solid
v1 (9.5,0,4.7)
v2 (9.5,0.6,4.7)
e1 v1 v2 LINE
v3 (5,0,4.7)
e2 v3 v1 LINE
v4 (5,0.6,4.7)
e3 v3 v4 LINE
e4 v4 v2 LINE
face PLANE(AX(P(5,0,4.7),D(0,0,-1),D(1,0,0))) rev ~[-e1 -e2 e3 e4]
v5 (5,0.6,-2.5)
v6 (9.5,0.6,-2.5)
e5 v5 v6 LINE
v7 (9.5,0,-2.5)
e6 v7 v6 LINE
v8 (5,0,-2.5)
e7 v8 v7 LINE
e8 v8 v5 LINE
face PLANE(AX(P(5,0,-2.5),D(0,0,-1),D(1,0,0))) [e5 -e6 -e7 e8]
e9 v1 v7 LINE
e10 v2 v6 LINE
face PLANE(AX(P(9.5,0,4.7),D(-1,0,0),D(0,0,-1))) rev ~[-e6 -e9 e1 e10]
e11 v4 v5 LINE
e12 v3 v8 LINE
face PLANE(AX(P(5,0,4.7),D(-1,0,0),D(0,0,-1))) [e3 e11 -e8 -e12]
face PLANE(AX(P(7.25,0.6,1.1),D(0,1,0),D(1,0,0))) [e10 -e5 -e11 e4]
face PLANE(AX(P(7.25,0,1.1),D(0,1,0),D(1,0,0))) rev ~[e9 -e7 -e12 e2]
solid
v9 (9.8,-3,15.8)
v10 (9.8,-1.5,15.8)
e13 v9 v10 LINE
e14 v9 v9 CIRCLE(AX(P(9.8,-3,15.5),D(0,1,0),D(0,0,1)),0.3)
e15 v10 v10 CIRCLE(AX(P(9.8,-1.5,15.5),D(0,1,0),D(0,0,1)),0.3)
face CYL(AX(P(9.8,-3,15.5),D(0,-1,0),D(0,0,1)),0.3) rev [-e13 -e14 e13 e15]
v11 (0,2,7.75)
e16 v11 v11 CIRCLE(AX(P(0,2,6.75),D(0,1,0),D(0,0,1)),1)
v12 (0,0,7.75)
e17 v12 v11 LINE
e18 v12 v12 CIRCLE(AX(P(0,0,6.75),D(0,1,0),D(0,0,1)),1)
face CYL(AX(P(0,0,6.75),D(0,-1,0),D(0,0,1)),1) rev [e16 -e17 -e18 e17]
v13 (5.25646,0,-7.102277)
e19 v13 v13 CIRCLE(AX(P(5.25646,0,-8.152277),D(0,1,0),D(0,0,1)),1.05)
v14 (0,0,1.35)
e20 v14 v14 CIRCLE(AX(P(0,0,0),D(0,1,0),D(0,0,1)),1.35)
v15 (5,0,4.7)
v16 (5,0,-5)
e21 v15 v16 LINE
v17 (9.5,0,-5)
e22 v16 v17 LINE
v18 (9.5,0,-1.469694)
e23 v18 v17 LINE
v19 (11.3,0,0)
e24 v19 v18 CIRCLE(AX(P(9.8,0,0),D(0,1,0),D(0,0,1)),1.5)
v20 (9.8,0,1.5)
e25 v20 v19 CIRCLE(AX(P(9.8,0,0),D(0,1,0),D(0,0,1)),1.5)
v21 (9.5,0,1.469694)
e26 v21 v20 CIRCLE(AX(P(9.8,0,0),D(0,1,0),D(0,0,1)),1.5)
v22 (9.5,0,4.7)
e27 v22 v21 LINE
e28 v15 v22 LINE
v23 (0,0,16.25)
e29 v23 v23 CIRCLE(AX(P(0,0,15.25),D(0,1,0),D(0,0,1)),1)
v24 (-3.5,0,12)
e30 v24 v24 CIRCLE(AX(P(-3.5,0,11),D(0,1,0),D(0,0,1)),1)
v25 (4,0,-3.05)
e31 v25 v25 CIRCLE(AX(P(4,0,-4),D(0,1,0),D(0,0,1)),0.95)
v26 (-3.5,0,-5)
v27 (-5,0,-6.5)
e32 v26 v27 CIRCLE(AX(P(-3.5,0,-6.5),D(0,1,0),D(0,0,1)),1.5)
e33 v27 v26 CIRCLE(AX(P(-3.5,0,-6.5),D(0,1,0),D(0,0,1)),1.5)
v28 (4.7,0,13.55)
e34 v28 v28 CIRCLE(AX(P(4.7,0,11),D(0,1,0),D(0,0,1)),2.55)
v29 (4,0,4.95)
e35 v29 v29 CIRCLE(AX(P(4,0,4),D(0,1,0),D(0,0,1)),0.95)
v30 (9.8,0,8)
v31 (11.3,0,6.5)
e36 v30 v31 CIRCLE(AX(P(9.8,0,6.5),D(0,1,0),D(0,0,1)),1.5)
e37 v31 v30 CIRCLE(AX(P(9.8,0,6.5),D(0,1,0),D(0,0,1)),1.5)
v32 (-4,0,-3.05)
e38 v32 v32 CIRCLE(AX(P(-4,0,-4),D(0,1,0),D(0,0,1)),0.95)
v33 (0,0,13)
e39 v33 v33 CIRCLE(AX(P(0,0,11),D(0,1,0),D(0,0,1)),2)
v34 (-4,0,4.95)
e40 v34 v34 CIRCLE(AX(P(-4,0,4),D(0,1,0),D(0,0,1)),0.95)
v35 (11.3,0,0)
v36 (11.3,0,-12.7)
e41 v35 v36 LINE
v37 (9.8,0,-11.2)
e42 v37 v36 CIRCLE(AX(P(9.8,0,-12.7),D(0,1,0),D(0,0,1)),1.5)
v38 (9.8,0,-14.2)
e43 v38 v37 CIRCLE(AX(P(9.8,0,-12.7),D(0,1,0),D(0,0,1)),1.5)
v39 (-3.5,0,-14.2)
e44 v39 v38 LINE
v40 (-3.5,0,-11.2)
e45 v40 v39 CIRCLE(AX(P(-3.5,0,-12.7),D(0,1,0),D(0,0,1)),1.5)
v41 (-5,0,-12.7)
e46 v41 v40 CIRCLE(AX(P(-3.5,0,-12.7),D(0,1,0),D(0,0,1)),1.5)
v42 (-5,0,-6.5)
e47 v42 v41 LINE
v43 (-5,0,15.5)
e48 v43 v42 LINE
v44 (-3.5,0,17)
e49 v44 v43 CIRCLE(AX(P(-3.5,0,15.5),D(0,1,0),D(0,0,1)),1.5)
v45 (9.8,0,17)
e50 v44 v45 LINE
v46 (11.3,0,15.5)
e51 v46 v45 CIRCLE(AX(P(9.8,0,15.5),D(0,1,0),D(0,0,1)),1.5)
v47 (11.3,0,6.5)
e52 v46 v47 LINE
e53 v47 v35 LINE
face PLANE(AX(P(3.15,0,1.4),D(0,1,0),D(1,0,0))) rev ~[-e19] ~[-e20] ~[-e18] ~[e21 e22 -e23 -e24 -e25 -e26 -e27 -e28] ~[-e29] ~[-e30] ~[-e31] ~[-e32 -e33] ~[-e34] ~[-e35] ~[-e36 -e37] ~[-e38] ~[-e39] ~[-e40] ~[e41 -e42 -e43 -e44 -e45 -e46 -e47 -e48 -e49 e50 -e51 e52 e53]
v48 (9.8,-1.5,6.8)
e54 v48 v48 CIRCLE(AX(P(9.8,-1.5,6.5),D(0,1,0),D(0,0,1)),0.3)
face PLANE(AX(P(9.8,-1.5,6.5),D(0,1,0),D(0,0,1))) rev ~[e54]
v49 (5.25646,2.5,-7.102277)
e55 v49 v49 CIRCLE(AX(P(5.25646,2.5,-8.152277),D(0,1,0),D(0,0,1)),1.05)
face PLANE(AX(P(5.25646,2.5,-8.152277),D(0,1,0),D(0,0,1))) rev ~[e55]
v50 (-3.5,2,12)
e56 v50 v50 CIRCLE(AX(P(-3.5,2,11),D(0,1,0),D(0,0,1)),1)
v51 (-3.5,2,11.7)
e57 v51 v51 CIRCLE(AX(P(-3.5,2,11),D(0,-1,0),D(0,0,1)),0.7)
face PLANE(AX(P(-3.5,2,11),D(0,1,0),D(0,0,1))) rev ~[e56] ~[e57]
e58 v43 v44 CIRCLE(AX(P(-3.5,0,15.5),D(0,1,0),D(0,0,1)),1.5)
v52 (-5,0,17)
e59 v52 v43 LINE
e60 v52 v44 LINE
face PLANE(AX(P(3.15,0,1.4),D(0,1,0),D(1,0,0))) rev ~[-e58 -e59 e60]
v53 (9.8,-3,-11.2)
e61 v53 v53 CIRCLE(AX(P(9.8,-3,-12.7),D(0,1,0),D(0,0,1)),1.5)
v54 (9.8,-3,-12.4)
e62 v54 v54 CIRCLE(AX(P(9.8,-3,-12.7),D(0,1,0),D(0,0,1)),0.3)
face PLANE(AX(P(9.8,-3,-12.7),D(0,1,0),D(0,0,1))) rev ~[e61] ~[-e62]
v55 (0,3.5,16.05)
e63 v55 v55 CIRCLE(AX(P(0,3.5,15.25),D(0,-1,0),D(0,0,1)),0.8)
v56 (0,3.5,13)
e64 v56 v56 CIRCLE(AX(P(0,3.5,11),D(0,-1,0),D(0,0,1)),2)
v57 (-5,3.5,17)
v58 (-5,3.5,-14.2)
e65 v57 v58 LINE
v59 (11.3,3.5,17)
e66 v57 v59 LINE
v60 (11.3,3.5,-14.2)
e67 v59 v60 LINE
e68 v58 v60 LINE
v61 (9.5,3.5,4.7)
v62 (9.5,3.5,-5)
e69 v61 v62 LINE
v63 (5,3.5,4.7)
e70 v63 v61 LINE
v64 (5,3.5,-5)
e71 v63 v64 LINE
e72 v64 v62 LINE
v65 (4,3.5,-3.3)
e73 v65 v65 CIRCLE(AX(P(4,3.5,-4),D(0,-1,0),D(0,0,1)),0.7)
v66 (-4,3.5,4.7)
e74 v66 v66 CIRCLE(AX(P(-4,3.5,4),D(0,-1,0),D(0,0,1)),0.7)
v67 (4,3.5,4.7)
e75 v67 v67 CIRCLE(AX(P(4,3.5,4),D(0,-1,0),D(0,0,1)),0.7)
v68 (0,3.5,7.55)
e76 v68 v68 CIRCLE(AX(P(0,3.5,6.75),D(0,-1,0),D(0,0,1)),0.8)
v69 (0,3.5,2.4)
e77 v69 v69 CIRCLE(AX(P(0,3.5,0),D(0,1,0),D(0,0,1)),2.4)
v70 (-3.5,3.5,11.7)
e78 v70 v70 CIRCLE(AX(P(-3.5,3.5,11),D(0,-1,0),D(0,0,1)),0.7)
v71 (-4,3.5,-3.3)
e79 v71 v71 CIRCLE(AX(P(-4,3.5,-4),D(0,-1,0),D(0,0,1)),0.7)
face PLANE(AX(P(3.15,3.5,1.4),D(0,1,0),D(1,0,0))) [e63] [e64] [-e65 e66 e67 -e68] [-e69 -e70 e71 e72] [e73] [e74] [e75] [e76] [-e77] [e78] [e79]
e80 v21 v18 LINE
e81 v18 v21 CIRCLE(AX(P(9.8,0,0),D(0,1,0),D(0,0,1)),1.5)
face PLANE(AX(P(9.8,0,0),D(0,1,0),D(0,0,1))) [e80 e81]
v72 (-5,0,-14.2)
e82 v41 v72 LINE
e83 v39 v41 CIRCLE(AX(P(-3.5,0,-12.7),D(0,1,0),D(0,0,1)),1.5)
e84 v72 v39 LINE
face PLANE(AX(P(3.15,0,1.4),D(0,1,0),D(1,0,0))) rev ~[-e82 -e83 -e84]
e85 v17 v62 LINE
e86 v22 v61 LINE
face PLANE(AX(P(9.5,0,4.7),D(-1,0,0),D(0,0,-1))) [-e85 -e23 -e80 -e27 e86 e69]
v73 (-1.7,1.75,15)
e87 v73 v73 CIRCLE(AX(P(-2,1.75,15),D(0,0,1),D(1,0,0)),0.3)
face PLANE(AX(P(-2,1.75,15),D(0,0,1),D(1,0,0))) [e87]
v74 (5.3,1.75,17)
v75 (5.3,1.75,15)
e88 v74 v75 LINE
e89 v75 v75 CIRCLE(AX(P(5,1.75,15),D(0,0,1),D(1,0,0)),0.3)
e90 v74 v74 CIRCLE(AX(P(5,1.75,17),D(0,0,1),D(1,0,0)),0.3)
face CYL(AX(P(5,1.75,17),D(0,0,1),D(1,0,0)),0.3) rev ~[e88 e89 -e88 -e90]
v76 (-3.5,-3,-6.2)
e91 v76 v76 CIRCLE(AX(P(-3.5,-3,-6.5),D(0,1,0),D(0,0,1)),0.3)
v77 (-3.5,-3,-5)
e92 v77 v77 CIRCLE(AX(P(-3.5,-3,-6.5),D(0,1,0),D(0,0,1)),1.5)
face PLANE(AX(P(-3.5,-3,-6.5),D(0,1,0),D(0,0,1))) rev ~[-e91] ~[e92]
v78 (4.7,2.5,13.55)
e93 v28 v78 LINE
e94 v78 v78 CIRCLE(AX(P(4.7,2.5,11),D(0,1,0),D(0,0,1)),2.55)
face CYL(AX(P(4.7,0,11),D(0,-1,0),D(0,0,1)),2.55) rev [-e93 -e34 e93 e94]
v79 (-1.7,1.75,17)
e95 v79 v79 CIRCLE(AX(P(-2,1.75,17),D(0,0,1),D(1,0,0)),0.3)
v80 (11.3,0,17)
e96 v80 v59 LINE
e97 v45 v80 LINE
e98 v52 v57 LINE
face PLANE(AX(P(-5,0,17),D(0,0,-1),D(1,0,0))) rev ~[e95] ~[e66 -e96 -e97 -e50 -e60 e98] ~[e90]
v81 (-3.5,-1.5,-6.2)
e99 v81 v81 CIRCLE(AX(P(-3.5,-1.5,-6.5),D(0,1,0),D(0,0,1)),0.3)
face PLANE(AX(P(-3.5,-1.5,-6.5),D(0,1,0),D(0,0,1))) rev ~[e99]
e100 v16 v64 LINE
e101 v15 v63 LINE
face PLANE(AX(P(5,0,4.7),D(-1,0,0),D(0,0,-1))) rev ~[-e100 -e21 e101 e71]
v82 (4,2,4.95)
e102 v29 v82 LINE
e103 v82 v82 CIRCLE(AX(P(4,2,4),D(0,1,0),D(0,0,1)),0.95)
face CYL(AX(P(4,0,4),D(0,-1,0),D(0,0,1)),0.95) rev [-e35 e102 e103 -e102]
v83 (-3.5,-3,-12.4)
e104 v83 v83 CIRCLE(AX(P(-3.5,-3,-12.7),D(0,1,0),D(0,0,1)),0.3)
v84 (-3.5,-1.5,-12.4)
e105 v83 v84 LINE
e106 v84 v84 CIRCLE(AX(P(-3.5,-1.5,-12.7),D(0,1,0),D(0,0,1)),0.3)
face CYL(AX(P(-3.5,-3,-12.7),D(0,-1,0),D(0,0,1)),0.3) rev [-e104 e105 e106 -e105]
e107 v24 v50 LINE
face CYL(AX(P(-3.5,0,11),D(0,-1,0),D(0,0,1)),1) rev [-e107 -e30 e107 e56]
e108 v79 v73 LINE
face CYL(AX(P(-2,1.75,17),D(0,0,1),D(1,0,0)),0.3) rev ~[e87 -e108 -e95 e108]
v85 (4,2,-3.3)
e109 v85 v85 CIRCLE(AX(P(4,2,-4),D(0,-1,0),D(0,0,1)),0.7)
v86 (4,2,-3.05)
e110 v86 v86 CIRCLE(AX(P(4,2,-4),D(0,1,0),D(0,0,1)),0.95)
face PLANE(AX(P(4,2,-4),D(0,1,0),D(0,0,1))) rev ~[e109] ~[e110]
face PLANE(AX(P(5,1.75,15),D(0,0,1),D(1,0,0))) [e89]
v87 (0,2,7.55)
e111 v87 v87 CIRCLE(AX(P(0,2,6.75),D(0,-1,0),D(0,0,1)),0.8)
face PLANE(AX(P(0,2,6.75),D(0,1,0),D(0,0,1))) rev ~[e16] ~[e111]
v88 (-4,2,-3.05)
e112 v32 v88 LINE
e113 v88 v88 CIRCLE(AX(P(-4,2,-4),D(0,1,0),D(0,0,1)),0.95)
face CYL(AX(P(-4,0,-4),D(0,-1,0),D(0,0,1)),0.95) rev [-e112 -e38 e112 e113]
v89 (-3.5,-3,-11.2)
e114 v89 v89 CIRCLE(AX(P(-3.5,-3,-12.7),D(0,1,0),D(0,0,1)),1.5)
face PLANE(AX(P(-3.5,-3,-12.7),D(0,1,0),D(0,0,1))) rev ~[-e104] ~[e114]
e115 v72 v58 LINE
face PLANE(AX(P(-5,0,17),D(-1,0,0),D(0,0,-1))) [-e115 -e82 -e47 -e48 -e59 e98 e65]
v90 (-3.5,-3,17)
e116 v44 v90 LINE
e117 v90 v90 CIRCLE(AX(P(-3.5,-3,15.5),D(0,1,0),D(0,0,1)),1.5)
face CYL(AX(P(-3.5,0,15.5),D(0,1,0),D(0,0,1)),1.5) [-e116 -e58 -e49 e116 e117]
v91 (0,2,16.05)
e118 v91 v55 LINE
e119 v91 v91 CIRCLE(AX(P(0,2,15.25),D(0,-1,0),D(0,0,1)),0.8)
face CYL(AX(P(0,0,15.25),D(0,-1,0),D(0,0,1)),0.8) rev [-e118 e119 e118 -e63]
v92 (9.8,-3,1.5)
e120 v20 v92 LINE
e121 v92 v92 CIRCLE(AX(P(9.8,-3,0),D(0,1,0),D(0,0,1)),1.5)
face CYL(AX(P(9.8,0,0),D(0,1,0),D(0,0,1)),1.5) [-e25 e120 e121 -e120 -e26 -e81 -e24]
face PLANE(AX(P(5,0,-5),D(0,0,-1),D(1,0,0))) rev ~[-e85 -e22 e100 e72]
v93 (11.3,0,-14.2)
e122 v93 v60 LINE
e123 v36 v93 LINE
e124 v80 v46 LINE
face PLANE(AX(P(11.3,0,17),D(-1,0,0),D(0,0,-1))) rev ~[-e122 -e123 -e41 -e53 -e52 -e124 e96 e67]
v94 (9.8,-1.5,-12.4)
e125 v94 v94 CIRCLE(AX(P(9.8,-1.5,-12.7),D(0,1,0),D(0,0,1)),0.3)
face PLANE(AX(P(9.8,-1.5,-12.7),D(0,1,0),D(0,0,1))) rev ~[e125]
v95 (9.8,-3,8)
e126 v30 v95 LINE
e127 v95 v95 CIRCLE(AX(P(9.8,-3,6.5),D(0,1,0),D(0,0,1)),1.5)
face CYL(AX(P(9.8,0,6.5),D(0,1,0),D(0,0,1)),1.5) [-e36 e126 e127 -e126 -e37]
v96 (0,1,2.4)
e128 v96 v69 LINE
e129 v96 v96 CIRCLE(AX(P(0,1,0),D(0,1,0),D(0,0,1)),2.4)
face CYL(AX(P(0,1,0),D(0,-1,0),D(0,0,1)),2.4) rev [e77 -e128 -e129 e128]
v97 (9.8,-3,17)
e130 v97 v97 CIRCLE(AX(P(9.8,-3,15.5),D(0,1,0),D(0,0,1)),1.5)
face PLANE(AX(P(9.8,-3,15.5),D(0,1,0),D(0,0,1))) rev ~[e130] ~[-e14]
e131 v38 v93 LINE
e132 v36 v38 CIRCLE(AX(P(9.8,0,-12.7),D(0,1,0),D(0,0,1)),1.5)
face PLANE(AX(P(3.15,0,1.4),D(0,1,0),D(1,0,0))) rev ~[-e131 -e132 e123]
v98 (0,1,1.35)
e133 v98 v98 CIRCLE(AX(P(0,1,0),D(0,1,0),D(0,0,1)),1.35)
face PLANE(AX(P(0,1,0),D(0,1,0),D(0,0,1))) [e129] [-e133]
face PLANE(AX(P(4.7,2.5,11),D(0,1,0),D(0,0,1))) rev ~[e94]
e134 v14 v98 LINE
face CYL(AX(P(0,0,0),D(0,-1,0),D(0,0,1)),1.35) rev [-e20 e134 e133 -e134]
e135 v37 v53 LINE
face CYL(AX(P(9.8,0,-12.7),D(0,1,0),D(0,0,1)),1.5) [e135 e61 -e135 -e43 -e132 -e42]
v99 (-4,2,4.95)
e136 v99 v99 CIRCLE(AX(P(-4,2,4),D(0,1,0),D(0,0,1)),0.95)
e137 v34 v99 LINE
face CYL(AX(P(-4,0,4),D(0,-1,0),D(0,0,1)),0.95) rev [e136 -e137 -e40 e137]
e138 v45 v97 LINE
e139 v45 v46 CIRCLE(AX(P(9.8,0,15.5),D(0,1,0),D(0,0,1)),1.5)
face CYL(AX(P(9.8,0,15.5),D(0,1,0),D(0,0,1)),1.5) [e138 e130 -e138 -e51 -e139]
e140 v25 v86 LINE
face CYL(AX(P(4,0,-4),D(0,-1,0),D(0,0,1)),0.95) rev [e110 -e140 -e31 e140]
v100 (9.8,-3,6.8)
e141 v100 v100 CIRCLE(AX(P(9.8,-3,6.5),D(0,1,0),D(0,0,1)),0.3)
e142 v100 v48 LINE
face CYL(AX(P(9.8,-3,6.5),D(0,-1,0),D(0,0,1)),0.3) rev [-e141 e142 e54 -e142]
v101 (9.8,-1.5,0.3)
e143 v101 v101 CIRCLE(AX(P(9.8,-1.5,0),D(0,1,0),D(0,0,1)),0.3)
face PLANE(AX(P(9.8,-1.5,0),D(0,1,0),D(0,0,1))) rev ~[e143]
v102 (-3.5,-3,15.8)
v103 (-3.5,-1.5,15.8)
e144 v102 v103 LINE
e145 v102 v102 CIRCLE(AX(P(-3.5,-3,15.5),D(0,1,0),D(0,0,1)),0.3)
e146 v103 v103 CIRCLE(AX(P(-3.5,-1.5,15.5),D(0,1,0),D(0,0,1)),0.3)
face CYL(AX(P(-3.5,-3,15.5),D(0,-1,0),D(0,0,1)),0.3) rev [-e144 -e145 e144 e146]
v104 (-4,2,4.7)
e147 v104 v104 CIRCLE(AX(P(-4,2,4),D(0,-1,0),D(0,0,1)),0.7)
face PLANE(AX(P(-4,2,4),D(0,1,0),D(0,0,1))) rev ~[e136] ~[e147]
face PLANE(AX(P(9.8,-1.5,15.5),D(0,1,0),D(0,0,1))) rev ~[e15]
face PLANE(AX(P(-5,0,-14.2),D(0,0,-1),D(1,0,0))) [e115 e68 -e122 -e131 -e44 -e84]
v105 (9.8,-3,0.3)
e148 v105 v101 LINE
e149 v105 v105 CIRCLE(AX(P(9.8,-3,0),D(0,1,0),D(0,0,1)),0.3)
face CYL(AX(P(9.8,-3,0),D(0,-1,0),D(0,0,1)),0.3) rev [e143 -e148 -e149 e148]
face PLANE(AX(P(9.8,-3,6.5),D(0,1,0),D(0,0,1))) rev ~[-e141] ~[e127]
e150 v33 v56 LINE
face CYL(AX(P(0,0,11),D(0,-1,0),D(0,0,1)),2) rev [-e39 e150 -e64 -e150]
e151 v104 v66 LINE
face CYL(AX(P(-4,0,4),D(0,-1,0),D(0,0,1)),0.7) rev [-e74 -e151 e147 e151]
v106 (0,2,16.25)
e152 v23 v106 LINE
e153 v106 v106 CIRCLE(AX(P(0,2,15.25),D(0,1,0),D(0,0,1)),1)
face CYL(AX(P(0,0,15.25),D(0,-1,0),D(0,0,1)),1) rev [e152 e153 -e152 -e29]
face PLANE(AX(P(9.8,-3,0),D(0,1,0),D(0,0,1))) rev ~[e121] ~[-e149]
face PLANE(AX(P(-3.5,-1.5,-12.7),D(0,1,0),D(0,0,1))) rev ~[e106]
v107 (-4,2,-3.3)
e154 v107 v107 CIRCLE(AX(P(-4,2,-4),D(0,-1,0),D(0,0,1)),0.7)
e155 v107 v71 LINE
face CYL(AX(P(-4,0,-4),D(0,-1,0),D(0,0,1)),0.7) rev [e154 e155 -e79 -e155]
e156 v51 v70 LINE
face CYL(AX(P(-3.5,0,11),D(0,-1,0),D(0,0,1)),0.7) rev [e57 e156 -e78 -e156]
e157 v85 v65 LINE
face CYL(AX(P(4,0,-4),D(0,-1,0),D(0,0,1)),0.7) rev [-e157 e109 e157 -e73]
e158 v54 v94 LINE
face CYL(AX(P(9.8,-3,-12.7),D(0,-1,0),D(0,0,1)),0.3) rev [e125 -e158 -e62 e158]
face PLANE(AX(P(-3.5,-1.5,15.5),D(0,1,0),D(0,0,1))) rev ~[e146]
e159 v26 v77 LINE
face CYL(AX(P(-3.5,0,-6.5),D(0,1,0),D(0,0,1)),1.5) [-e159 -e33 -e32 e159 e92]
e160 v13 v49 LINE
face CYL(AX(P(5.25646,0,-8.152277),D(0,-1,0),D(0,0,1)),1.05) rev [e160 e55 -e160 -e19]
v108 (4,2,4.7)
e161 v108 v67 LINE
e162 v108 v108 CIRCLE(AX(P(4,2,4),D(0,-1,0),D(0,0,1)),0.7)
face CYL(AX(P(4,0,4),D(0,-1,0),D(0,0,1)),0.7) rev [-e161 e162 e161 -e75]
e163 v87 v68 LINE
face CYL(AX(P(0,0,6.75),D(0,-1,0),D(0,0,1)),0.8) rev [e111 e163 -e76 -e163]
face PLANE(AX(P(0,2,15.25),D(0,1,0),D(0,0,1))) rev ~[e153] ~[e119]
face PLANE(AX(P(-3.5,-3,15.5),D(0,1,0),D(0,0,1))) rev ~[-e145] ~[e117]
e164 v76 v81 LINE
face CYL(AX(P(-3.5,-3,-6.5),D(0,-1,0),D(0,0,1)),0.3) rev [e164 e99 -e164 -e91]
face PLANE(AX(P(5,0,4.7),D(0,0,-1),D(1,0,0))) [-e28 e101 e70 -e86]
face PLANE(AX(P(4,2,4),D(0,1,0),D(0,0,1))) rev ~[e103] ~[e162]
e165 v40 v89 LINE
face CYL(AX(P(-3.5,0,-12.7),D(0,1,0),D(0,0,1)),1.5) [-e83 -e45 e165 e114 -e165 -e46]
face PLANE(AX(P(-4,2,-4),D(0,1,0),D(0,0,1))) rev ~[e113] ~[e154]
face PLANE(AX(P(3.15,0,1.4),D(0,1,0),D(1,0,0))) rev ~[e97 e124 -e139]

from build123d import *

# Parameters (mm, degrees)
SKETCH_1_W          = 16.3
SKETCH_1_H          = 31.2
SKETCH_1_W_2        = 4.5
SKETCH_1_H_2        = 9.7
EXTRUDE_1_DEPTH     = 3.5
SKETCH_1_16_W       = 4.5
SKETCH_1_16_H       = 7.2
EXTRUDE_3_DEPTH     = 0.6
SKETCH_1_3_R        = 1.35
CUT_EXTRUDE_1_DEPTH = 21.710866713
CUT_EXTRUDE_START   = 1
SKETCH_1_4_R        = 2.4
SKETCH_1_4_R_2      = 1.35
CUT_EXTRUDE_2_DEPTH = 2.5
SKETCH_1_7_R        = 0.7
CUT_EXTRUDE_3_DEPTH = 21.710866713
SKETCH_1_8_R        = 0.95
CUT_EXTRUDE_4_DEPTH = 2
SKETCH_1_10_R       = 2
SKETCH_1_10_R_2     = 0.8
SKETCH_1_10_R_3     = 0.7
CUT_EXTRUDE_5_DEPTH = 21.710866713
SKETCH_1_11_R       = 1
CUT_EXTRUDE_6_DEPTH = 2
CUT_EXTRUDE_START_2 = -3.5
SKETCH_3_R          = 2.55
SKETCH_3_R_2        = 1.05
CUT_EXTRUDE_7_DEPTH = 2.5
SKETCH_1_12_R       = 1.5
EXTRUDE_2_DEPTH     = 3
CUT_EXTRUDE_START_3 = -3
SKETCH_1_13_R       = 0.3
CUT_EXTRUDE_8_DEPTH = 1.5
SKETCH_6_R          = 0.3
CUT_EXTRUDE_9_DEPTH = 2


with BuildPart() as part:
    # 草图1 → 凸台-拉伸1 (new body)
    with BuildSketch(Plane(origin=(0, 0, 0), x_dir=(1, 0, 0), z_dir=(0, 1, 0))):
        with Locations((3.15, -1.4)):
            Rectangle(SKETCH_1_W, SKETCH_1_H)
        with Locations((7.25, 0.15)):
            Rectangle(SKETCH_1_W_2, SKETCH_1_H_2, mode=Mode.SUBTRACT)
    extrude(amount=EXTRUDE_1_DEPTH)

    # 草图1<3> → 切除-拉伸1 (cut, through all)
    with BuildSketch(Plane(origin=(0, 0, 0), x_dir=(1, 0, 0), z_dir=(0, 1, 0))):
        with Locations(Location((0, 0, 0), (0, 0, 270))):
            Circle(SKETCH_1_3_R)
    extrude(amount=CUT_EXTRUDE_1_DEPTH, mode=Mode.SUBTRACT)

    # 草图1<4> → 切除-拉伸2 (cut)
    with BuildSketch(Plane(origin=(0, 0, 0), x_dir=(1, 0, 0), z_dir=(0, 1, 0)).offset(CUT_EXTRUDE_START)):
        with Locations(Location((0, 0, 0), (0, 0, 270))):
            Circle(SKETCH_1_4_R)
        with Locations(Location((0, 0, 0), (0, 0, 270))):
            Circle(SKETCH_1_4_R_2, mode=Mode.SUBTRACT)
    extrude(amount=CUT_EXTRUDE_2_DEPTH, mode=Mode.SUBTRACT)

    # 草图1<7> → 切除-拉伸3 (cut, through all)
    with BuildSketch(Plane(origin=(0, 0, 0), x_dir=(1, 0, 0), z_dir=(0, 1, 0))):
        with Locations(Location((4, 4, 0), (0, 0, 270))):
            Circle(SKETCH_1_7_R)
        with Locations(Location((-4, -4, 0), (0, 0, 270))):
            Circle(SKETCH_1_7_R)
        with Locations(Location((-4, 4, 0), (0, 0, 270))):
            Circle(SKETCH_1_7_R)
        with Locations(Location((4, -4, 0), (0, 0, 270))):
            Circle(SKETCH_1_7_R)
    extrude(amount=CUT_EXTRUDE_3_DEPTH, mode=Mode.SUBTRACT)

    # 草图1<8> → 切除-拉伸4 (cut)
    with BuildSketch(Plane(origin=(0, 0, 0), x_dir=(1, 0, 0), z_dir=(0, 1, 0))):
        with Locations(Location((4, 4, 0), (0, 0, 270))):
            Circle(SKETCH_1_8_R)
        with Locations(Location((-4, -4, 0), (0, 0, 270))):
            Circle(SKETCH_1_8_R)
        with Locations(Location((-4, 4, 0), (0, 0, 270))):
            Circle(SKETCH_1_8_R)
        with Locations(Location((4, -4, 0), (0, 0, 270))):
            Circle(SKETCH_1_8_R)
    extrude(amount=CUT_EXTRUDE_4_DEPTH, mode=Mode.SUBTRACT)

    # 草图1<10> → 切除-拉伸5 (cut, through all)
    with BuildSketch(Plane(origin=(0, 0, 0), x_dir=(1, 0, 0), z_dir=(0, 1, 0))):
        with Locations(Location((0, -11, 0), (0, 0, 270))):
            Circle(SKETCH_1_10_R)
        with Locations(Location((0, -6.75, 0), (0, 0, 270))):
            Circle(SKETCH_1_10_R_2)
        with Locations(Location((0, -15.25, 0), (0, 0, 270))):
            Circle(SKETCH_1_10_R_2)
        with Locations(Location((-3.5, -11, 0), (0, 0, 270))):
            Circle(SKETCH_1_10_R_3)
    extrude(amount=CUT_EXTRUDE_5_DEPTH, mode=Mode.SUBTRACT)

    # 草图1<11> → 切除-拉伸6 (cut)
    with BuildSketch(Plane(origin=(0, 0, 0), x_dir=(1, 0, 0), z_dir=(0, 1, 0))):
        with Locations(Location((0, -6.75, 0), (0, 0, 270))):
            Circle(SKETCH_1_11_R)
        with Locations(Location((0, -15.25, 0), (0, 0, 270))):
            Circle(SKETCH_1_11_R)
        with Locations(Location((-3.5, -11, 0), (0, 0, 270))):
            Circle(SKETCH_1_11_R)
    extrude(amount=CUT_EXTRUDE_6_DEPTH, mode=Mode.SUBTRACT)

    # 草图3 → 切除-拉伸7 (cut)
    with BuildSketch(Plane(origin=(0, 3.5, 0), x_dir=(1, 0, 0), z_dir=(0, 1, 0)).offset(CUT_EXTRUDE_START_2)):
        with Locations(Location((4.7, -11, 0), (0, 0, 270))):
            Circle(SKETCH_3_R)
        with Locations(Location((5.25646039, 8.152277238, 0), (0, 0, 270))):
            Circle(SKETCH_3_R_2)
    extrude(amount=CUT_EXTRUDE_7_DEPTH, mode=Mode.SUBTRACT)

    # 草图1<12> → 凸台-拉伸2 (add)
    with BuildSketch(Plane(origin=(0, 0, 0), x_dir=(1, 0, 0), z_dir=(0, 1, 0))):
        with Locations(Location((-3.5, -15.5, 0), (0, 0, 270))):
            Circle(SKETCH_1_12_R)
        with Locations(Location((9.8, -15.5, 0), (0, 0, 270))):
            Circle(SKETCH_1_12_R)
        with Locations(Location((9.8, -6.5, 0), (0, 0, 270))):
            Circle(SKETCH_1_12_R)
        with Locations(Location((-3.5, 12.7, 0), (0, 0, 270))):
            Circle(SKETCH_1_12_R)
        with Locations(Location((9.8, 12.7, 0), (0, 0, 270))):
            Circle(SKETCH_1_12_R)
        with Locations(Location((-3.5, 6.5, 0), (0, 0, 270))):
            Circle(SKETCH_1_12_R)
        with Locations(Location((9.8, 0, 0), (0, 0, 270))):
            Circle(SKETCH_1_12_R)
    extrude(amount=-EXTRUDE_2_DEPTH)

    # 草图1<13> → 切除-拉伸8 (cut)
    with BuildSketch(Plane(origin=(0, 0, 0), x_dir=(1, 0, 0), z_dir=(0, 1, 0)).offset(CUT_EXTRUDE_START_3)):
        with Locations(Location((-3.5, -15.5, 0), (0, 0, 270))):
            Circle(SKETCH_1_13_R)
        with Locations(Location((9.8, -6.5, 0), (0, 0, 270))):
            Circle(SKETCH_1_13_R)
        with Locations(Location((9.8, -15.5, 0), (0, 0, 270))):
            Circle(SKETCH_1_13_R)
        with Locations(Location((-3.5, 12.7, 0), (0, 0, 270))):
            Circle(SKETCH_1_13_R)
        with Locations(Location((9.8, 12.7, 0), (0, 0, 270))):
            Circle(SKETCH_1_13_R)
        with Locations(Location((-3.5, 6.5, 0), (0, 0, 270))):
            Circle(SKETCH_1_13_R)
        with Locations(Location((9.8, 0, 0), (0, 0, 270))):
            Circle(SKETCH_1_13_R)
    extrude(amount=CUT_EXTRUDE_8_DEPTH, mode=Mode.SUBTRACT)

    # 草图6 → 切除-拉伸9 (cut)
    with BuildSketch(Plane.XY.offset(17)):
        with Locations((-2, 1.75)):
            Circle(SKETCH_6_R)
        with Locations((5, 1.75)):
            Circle(SKETCH_6_R)
    extrude(amount=-CUT_EXTRUDE_9_DEPTH, mode=Mode.SUBTRACT)


with BuildPart() as body_2:
    # 草图1<16> → 凸台-拉伸3 (new body)
    with BuildSketch(Plane(origin=(0, 0, 0), x_dir=(1, 0, 0), z_dir=(0, 1, 0))):
        with Locations((7.25, -1.1)):
            Rectangle(SKETCH_1_16_W, SKETCH_1_16_H)
    extrude(amount=EXTRUDE_3_DEPTH)


solid = Compound([part.part, body_2.part])
